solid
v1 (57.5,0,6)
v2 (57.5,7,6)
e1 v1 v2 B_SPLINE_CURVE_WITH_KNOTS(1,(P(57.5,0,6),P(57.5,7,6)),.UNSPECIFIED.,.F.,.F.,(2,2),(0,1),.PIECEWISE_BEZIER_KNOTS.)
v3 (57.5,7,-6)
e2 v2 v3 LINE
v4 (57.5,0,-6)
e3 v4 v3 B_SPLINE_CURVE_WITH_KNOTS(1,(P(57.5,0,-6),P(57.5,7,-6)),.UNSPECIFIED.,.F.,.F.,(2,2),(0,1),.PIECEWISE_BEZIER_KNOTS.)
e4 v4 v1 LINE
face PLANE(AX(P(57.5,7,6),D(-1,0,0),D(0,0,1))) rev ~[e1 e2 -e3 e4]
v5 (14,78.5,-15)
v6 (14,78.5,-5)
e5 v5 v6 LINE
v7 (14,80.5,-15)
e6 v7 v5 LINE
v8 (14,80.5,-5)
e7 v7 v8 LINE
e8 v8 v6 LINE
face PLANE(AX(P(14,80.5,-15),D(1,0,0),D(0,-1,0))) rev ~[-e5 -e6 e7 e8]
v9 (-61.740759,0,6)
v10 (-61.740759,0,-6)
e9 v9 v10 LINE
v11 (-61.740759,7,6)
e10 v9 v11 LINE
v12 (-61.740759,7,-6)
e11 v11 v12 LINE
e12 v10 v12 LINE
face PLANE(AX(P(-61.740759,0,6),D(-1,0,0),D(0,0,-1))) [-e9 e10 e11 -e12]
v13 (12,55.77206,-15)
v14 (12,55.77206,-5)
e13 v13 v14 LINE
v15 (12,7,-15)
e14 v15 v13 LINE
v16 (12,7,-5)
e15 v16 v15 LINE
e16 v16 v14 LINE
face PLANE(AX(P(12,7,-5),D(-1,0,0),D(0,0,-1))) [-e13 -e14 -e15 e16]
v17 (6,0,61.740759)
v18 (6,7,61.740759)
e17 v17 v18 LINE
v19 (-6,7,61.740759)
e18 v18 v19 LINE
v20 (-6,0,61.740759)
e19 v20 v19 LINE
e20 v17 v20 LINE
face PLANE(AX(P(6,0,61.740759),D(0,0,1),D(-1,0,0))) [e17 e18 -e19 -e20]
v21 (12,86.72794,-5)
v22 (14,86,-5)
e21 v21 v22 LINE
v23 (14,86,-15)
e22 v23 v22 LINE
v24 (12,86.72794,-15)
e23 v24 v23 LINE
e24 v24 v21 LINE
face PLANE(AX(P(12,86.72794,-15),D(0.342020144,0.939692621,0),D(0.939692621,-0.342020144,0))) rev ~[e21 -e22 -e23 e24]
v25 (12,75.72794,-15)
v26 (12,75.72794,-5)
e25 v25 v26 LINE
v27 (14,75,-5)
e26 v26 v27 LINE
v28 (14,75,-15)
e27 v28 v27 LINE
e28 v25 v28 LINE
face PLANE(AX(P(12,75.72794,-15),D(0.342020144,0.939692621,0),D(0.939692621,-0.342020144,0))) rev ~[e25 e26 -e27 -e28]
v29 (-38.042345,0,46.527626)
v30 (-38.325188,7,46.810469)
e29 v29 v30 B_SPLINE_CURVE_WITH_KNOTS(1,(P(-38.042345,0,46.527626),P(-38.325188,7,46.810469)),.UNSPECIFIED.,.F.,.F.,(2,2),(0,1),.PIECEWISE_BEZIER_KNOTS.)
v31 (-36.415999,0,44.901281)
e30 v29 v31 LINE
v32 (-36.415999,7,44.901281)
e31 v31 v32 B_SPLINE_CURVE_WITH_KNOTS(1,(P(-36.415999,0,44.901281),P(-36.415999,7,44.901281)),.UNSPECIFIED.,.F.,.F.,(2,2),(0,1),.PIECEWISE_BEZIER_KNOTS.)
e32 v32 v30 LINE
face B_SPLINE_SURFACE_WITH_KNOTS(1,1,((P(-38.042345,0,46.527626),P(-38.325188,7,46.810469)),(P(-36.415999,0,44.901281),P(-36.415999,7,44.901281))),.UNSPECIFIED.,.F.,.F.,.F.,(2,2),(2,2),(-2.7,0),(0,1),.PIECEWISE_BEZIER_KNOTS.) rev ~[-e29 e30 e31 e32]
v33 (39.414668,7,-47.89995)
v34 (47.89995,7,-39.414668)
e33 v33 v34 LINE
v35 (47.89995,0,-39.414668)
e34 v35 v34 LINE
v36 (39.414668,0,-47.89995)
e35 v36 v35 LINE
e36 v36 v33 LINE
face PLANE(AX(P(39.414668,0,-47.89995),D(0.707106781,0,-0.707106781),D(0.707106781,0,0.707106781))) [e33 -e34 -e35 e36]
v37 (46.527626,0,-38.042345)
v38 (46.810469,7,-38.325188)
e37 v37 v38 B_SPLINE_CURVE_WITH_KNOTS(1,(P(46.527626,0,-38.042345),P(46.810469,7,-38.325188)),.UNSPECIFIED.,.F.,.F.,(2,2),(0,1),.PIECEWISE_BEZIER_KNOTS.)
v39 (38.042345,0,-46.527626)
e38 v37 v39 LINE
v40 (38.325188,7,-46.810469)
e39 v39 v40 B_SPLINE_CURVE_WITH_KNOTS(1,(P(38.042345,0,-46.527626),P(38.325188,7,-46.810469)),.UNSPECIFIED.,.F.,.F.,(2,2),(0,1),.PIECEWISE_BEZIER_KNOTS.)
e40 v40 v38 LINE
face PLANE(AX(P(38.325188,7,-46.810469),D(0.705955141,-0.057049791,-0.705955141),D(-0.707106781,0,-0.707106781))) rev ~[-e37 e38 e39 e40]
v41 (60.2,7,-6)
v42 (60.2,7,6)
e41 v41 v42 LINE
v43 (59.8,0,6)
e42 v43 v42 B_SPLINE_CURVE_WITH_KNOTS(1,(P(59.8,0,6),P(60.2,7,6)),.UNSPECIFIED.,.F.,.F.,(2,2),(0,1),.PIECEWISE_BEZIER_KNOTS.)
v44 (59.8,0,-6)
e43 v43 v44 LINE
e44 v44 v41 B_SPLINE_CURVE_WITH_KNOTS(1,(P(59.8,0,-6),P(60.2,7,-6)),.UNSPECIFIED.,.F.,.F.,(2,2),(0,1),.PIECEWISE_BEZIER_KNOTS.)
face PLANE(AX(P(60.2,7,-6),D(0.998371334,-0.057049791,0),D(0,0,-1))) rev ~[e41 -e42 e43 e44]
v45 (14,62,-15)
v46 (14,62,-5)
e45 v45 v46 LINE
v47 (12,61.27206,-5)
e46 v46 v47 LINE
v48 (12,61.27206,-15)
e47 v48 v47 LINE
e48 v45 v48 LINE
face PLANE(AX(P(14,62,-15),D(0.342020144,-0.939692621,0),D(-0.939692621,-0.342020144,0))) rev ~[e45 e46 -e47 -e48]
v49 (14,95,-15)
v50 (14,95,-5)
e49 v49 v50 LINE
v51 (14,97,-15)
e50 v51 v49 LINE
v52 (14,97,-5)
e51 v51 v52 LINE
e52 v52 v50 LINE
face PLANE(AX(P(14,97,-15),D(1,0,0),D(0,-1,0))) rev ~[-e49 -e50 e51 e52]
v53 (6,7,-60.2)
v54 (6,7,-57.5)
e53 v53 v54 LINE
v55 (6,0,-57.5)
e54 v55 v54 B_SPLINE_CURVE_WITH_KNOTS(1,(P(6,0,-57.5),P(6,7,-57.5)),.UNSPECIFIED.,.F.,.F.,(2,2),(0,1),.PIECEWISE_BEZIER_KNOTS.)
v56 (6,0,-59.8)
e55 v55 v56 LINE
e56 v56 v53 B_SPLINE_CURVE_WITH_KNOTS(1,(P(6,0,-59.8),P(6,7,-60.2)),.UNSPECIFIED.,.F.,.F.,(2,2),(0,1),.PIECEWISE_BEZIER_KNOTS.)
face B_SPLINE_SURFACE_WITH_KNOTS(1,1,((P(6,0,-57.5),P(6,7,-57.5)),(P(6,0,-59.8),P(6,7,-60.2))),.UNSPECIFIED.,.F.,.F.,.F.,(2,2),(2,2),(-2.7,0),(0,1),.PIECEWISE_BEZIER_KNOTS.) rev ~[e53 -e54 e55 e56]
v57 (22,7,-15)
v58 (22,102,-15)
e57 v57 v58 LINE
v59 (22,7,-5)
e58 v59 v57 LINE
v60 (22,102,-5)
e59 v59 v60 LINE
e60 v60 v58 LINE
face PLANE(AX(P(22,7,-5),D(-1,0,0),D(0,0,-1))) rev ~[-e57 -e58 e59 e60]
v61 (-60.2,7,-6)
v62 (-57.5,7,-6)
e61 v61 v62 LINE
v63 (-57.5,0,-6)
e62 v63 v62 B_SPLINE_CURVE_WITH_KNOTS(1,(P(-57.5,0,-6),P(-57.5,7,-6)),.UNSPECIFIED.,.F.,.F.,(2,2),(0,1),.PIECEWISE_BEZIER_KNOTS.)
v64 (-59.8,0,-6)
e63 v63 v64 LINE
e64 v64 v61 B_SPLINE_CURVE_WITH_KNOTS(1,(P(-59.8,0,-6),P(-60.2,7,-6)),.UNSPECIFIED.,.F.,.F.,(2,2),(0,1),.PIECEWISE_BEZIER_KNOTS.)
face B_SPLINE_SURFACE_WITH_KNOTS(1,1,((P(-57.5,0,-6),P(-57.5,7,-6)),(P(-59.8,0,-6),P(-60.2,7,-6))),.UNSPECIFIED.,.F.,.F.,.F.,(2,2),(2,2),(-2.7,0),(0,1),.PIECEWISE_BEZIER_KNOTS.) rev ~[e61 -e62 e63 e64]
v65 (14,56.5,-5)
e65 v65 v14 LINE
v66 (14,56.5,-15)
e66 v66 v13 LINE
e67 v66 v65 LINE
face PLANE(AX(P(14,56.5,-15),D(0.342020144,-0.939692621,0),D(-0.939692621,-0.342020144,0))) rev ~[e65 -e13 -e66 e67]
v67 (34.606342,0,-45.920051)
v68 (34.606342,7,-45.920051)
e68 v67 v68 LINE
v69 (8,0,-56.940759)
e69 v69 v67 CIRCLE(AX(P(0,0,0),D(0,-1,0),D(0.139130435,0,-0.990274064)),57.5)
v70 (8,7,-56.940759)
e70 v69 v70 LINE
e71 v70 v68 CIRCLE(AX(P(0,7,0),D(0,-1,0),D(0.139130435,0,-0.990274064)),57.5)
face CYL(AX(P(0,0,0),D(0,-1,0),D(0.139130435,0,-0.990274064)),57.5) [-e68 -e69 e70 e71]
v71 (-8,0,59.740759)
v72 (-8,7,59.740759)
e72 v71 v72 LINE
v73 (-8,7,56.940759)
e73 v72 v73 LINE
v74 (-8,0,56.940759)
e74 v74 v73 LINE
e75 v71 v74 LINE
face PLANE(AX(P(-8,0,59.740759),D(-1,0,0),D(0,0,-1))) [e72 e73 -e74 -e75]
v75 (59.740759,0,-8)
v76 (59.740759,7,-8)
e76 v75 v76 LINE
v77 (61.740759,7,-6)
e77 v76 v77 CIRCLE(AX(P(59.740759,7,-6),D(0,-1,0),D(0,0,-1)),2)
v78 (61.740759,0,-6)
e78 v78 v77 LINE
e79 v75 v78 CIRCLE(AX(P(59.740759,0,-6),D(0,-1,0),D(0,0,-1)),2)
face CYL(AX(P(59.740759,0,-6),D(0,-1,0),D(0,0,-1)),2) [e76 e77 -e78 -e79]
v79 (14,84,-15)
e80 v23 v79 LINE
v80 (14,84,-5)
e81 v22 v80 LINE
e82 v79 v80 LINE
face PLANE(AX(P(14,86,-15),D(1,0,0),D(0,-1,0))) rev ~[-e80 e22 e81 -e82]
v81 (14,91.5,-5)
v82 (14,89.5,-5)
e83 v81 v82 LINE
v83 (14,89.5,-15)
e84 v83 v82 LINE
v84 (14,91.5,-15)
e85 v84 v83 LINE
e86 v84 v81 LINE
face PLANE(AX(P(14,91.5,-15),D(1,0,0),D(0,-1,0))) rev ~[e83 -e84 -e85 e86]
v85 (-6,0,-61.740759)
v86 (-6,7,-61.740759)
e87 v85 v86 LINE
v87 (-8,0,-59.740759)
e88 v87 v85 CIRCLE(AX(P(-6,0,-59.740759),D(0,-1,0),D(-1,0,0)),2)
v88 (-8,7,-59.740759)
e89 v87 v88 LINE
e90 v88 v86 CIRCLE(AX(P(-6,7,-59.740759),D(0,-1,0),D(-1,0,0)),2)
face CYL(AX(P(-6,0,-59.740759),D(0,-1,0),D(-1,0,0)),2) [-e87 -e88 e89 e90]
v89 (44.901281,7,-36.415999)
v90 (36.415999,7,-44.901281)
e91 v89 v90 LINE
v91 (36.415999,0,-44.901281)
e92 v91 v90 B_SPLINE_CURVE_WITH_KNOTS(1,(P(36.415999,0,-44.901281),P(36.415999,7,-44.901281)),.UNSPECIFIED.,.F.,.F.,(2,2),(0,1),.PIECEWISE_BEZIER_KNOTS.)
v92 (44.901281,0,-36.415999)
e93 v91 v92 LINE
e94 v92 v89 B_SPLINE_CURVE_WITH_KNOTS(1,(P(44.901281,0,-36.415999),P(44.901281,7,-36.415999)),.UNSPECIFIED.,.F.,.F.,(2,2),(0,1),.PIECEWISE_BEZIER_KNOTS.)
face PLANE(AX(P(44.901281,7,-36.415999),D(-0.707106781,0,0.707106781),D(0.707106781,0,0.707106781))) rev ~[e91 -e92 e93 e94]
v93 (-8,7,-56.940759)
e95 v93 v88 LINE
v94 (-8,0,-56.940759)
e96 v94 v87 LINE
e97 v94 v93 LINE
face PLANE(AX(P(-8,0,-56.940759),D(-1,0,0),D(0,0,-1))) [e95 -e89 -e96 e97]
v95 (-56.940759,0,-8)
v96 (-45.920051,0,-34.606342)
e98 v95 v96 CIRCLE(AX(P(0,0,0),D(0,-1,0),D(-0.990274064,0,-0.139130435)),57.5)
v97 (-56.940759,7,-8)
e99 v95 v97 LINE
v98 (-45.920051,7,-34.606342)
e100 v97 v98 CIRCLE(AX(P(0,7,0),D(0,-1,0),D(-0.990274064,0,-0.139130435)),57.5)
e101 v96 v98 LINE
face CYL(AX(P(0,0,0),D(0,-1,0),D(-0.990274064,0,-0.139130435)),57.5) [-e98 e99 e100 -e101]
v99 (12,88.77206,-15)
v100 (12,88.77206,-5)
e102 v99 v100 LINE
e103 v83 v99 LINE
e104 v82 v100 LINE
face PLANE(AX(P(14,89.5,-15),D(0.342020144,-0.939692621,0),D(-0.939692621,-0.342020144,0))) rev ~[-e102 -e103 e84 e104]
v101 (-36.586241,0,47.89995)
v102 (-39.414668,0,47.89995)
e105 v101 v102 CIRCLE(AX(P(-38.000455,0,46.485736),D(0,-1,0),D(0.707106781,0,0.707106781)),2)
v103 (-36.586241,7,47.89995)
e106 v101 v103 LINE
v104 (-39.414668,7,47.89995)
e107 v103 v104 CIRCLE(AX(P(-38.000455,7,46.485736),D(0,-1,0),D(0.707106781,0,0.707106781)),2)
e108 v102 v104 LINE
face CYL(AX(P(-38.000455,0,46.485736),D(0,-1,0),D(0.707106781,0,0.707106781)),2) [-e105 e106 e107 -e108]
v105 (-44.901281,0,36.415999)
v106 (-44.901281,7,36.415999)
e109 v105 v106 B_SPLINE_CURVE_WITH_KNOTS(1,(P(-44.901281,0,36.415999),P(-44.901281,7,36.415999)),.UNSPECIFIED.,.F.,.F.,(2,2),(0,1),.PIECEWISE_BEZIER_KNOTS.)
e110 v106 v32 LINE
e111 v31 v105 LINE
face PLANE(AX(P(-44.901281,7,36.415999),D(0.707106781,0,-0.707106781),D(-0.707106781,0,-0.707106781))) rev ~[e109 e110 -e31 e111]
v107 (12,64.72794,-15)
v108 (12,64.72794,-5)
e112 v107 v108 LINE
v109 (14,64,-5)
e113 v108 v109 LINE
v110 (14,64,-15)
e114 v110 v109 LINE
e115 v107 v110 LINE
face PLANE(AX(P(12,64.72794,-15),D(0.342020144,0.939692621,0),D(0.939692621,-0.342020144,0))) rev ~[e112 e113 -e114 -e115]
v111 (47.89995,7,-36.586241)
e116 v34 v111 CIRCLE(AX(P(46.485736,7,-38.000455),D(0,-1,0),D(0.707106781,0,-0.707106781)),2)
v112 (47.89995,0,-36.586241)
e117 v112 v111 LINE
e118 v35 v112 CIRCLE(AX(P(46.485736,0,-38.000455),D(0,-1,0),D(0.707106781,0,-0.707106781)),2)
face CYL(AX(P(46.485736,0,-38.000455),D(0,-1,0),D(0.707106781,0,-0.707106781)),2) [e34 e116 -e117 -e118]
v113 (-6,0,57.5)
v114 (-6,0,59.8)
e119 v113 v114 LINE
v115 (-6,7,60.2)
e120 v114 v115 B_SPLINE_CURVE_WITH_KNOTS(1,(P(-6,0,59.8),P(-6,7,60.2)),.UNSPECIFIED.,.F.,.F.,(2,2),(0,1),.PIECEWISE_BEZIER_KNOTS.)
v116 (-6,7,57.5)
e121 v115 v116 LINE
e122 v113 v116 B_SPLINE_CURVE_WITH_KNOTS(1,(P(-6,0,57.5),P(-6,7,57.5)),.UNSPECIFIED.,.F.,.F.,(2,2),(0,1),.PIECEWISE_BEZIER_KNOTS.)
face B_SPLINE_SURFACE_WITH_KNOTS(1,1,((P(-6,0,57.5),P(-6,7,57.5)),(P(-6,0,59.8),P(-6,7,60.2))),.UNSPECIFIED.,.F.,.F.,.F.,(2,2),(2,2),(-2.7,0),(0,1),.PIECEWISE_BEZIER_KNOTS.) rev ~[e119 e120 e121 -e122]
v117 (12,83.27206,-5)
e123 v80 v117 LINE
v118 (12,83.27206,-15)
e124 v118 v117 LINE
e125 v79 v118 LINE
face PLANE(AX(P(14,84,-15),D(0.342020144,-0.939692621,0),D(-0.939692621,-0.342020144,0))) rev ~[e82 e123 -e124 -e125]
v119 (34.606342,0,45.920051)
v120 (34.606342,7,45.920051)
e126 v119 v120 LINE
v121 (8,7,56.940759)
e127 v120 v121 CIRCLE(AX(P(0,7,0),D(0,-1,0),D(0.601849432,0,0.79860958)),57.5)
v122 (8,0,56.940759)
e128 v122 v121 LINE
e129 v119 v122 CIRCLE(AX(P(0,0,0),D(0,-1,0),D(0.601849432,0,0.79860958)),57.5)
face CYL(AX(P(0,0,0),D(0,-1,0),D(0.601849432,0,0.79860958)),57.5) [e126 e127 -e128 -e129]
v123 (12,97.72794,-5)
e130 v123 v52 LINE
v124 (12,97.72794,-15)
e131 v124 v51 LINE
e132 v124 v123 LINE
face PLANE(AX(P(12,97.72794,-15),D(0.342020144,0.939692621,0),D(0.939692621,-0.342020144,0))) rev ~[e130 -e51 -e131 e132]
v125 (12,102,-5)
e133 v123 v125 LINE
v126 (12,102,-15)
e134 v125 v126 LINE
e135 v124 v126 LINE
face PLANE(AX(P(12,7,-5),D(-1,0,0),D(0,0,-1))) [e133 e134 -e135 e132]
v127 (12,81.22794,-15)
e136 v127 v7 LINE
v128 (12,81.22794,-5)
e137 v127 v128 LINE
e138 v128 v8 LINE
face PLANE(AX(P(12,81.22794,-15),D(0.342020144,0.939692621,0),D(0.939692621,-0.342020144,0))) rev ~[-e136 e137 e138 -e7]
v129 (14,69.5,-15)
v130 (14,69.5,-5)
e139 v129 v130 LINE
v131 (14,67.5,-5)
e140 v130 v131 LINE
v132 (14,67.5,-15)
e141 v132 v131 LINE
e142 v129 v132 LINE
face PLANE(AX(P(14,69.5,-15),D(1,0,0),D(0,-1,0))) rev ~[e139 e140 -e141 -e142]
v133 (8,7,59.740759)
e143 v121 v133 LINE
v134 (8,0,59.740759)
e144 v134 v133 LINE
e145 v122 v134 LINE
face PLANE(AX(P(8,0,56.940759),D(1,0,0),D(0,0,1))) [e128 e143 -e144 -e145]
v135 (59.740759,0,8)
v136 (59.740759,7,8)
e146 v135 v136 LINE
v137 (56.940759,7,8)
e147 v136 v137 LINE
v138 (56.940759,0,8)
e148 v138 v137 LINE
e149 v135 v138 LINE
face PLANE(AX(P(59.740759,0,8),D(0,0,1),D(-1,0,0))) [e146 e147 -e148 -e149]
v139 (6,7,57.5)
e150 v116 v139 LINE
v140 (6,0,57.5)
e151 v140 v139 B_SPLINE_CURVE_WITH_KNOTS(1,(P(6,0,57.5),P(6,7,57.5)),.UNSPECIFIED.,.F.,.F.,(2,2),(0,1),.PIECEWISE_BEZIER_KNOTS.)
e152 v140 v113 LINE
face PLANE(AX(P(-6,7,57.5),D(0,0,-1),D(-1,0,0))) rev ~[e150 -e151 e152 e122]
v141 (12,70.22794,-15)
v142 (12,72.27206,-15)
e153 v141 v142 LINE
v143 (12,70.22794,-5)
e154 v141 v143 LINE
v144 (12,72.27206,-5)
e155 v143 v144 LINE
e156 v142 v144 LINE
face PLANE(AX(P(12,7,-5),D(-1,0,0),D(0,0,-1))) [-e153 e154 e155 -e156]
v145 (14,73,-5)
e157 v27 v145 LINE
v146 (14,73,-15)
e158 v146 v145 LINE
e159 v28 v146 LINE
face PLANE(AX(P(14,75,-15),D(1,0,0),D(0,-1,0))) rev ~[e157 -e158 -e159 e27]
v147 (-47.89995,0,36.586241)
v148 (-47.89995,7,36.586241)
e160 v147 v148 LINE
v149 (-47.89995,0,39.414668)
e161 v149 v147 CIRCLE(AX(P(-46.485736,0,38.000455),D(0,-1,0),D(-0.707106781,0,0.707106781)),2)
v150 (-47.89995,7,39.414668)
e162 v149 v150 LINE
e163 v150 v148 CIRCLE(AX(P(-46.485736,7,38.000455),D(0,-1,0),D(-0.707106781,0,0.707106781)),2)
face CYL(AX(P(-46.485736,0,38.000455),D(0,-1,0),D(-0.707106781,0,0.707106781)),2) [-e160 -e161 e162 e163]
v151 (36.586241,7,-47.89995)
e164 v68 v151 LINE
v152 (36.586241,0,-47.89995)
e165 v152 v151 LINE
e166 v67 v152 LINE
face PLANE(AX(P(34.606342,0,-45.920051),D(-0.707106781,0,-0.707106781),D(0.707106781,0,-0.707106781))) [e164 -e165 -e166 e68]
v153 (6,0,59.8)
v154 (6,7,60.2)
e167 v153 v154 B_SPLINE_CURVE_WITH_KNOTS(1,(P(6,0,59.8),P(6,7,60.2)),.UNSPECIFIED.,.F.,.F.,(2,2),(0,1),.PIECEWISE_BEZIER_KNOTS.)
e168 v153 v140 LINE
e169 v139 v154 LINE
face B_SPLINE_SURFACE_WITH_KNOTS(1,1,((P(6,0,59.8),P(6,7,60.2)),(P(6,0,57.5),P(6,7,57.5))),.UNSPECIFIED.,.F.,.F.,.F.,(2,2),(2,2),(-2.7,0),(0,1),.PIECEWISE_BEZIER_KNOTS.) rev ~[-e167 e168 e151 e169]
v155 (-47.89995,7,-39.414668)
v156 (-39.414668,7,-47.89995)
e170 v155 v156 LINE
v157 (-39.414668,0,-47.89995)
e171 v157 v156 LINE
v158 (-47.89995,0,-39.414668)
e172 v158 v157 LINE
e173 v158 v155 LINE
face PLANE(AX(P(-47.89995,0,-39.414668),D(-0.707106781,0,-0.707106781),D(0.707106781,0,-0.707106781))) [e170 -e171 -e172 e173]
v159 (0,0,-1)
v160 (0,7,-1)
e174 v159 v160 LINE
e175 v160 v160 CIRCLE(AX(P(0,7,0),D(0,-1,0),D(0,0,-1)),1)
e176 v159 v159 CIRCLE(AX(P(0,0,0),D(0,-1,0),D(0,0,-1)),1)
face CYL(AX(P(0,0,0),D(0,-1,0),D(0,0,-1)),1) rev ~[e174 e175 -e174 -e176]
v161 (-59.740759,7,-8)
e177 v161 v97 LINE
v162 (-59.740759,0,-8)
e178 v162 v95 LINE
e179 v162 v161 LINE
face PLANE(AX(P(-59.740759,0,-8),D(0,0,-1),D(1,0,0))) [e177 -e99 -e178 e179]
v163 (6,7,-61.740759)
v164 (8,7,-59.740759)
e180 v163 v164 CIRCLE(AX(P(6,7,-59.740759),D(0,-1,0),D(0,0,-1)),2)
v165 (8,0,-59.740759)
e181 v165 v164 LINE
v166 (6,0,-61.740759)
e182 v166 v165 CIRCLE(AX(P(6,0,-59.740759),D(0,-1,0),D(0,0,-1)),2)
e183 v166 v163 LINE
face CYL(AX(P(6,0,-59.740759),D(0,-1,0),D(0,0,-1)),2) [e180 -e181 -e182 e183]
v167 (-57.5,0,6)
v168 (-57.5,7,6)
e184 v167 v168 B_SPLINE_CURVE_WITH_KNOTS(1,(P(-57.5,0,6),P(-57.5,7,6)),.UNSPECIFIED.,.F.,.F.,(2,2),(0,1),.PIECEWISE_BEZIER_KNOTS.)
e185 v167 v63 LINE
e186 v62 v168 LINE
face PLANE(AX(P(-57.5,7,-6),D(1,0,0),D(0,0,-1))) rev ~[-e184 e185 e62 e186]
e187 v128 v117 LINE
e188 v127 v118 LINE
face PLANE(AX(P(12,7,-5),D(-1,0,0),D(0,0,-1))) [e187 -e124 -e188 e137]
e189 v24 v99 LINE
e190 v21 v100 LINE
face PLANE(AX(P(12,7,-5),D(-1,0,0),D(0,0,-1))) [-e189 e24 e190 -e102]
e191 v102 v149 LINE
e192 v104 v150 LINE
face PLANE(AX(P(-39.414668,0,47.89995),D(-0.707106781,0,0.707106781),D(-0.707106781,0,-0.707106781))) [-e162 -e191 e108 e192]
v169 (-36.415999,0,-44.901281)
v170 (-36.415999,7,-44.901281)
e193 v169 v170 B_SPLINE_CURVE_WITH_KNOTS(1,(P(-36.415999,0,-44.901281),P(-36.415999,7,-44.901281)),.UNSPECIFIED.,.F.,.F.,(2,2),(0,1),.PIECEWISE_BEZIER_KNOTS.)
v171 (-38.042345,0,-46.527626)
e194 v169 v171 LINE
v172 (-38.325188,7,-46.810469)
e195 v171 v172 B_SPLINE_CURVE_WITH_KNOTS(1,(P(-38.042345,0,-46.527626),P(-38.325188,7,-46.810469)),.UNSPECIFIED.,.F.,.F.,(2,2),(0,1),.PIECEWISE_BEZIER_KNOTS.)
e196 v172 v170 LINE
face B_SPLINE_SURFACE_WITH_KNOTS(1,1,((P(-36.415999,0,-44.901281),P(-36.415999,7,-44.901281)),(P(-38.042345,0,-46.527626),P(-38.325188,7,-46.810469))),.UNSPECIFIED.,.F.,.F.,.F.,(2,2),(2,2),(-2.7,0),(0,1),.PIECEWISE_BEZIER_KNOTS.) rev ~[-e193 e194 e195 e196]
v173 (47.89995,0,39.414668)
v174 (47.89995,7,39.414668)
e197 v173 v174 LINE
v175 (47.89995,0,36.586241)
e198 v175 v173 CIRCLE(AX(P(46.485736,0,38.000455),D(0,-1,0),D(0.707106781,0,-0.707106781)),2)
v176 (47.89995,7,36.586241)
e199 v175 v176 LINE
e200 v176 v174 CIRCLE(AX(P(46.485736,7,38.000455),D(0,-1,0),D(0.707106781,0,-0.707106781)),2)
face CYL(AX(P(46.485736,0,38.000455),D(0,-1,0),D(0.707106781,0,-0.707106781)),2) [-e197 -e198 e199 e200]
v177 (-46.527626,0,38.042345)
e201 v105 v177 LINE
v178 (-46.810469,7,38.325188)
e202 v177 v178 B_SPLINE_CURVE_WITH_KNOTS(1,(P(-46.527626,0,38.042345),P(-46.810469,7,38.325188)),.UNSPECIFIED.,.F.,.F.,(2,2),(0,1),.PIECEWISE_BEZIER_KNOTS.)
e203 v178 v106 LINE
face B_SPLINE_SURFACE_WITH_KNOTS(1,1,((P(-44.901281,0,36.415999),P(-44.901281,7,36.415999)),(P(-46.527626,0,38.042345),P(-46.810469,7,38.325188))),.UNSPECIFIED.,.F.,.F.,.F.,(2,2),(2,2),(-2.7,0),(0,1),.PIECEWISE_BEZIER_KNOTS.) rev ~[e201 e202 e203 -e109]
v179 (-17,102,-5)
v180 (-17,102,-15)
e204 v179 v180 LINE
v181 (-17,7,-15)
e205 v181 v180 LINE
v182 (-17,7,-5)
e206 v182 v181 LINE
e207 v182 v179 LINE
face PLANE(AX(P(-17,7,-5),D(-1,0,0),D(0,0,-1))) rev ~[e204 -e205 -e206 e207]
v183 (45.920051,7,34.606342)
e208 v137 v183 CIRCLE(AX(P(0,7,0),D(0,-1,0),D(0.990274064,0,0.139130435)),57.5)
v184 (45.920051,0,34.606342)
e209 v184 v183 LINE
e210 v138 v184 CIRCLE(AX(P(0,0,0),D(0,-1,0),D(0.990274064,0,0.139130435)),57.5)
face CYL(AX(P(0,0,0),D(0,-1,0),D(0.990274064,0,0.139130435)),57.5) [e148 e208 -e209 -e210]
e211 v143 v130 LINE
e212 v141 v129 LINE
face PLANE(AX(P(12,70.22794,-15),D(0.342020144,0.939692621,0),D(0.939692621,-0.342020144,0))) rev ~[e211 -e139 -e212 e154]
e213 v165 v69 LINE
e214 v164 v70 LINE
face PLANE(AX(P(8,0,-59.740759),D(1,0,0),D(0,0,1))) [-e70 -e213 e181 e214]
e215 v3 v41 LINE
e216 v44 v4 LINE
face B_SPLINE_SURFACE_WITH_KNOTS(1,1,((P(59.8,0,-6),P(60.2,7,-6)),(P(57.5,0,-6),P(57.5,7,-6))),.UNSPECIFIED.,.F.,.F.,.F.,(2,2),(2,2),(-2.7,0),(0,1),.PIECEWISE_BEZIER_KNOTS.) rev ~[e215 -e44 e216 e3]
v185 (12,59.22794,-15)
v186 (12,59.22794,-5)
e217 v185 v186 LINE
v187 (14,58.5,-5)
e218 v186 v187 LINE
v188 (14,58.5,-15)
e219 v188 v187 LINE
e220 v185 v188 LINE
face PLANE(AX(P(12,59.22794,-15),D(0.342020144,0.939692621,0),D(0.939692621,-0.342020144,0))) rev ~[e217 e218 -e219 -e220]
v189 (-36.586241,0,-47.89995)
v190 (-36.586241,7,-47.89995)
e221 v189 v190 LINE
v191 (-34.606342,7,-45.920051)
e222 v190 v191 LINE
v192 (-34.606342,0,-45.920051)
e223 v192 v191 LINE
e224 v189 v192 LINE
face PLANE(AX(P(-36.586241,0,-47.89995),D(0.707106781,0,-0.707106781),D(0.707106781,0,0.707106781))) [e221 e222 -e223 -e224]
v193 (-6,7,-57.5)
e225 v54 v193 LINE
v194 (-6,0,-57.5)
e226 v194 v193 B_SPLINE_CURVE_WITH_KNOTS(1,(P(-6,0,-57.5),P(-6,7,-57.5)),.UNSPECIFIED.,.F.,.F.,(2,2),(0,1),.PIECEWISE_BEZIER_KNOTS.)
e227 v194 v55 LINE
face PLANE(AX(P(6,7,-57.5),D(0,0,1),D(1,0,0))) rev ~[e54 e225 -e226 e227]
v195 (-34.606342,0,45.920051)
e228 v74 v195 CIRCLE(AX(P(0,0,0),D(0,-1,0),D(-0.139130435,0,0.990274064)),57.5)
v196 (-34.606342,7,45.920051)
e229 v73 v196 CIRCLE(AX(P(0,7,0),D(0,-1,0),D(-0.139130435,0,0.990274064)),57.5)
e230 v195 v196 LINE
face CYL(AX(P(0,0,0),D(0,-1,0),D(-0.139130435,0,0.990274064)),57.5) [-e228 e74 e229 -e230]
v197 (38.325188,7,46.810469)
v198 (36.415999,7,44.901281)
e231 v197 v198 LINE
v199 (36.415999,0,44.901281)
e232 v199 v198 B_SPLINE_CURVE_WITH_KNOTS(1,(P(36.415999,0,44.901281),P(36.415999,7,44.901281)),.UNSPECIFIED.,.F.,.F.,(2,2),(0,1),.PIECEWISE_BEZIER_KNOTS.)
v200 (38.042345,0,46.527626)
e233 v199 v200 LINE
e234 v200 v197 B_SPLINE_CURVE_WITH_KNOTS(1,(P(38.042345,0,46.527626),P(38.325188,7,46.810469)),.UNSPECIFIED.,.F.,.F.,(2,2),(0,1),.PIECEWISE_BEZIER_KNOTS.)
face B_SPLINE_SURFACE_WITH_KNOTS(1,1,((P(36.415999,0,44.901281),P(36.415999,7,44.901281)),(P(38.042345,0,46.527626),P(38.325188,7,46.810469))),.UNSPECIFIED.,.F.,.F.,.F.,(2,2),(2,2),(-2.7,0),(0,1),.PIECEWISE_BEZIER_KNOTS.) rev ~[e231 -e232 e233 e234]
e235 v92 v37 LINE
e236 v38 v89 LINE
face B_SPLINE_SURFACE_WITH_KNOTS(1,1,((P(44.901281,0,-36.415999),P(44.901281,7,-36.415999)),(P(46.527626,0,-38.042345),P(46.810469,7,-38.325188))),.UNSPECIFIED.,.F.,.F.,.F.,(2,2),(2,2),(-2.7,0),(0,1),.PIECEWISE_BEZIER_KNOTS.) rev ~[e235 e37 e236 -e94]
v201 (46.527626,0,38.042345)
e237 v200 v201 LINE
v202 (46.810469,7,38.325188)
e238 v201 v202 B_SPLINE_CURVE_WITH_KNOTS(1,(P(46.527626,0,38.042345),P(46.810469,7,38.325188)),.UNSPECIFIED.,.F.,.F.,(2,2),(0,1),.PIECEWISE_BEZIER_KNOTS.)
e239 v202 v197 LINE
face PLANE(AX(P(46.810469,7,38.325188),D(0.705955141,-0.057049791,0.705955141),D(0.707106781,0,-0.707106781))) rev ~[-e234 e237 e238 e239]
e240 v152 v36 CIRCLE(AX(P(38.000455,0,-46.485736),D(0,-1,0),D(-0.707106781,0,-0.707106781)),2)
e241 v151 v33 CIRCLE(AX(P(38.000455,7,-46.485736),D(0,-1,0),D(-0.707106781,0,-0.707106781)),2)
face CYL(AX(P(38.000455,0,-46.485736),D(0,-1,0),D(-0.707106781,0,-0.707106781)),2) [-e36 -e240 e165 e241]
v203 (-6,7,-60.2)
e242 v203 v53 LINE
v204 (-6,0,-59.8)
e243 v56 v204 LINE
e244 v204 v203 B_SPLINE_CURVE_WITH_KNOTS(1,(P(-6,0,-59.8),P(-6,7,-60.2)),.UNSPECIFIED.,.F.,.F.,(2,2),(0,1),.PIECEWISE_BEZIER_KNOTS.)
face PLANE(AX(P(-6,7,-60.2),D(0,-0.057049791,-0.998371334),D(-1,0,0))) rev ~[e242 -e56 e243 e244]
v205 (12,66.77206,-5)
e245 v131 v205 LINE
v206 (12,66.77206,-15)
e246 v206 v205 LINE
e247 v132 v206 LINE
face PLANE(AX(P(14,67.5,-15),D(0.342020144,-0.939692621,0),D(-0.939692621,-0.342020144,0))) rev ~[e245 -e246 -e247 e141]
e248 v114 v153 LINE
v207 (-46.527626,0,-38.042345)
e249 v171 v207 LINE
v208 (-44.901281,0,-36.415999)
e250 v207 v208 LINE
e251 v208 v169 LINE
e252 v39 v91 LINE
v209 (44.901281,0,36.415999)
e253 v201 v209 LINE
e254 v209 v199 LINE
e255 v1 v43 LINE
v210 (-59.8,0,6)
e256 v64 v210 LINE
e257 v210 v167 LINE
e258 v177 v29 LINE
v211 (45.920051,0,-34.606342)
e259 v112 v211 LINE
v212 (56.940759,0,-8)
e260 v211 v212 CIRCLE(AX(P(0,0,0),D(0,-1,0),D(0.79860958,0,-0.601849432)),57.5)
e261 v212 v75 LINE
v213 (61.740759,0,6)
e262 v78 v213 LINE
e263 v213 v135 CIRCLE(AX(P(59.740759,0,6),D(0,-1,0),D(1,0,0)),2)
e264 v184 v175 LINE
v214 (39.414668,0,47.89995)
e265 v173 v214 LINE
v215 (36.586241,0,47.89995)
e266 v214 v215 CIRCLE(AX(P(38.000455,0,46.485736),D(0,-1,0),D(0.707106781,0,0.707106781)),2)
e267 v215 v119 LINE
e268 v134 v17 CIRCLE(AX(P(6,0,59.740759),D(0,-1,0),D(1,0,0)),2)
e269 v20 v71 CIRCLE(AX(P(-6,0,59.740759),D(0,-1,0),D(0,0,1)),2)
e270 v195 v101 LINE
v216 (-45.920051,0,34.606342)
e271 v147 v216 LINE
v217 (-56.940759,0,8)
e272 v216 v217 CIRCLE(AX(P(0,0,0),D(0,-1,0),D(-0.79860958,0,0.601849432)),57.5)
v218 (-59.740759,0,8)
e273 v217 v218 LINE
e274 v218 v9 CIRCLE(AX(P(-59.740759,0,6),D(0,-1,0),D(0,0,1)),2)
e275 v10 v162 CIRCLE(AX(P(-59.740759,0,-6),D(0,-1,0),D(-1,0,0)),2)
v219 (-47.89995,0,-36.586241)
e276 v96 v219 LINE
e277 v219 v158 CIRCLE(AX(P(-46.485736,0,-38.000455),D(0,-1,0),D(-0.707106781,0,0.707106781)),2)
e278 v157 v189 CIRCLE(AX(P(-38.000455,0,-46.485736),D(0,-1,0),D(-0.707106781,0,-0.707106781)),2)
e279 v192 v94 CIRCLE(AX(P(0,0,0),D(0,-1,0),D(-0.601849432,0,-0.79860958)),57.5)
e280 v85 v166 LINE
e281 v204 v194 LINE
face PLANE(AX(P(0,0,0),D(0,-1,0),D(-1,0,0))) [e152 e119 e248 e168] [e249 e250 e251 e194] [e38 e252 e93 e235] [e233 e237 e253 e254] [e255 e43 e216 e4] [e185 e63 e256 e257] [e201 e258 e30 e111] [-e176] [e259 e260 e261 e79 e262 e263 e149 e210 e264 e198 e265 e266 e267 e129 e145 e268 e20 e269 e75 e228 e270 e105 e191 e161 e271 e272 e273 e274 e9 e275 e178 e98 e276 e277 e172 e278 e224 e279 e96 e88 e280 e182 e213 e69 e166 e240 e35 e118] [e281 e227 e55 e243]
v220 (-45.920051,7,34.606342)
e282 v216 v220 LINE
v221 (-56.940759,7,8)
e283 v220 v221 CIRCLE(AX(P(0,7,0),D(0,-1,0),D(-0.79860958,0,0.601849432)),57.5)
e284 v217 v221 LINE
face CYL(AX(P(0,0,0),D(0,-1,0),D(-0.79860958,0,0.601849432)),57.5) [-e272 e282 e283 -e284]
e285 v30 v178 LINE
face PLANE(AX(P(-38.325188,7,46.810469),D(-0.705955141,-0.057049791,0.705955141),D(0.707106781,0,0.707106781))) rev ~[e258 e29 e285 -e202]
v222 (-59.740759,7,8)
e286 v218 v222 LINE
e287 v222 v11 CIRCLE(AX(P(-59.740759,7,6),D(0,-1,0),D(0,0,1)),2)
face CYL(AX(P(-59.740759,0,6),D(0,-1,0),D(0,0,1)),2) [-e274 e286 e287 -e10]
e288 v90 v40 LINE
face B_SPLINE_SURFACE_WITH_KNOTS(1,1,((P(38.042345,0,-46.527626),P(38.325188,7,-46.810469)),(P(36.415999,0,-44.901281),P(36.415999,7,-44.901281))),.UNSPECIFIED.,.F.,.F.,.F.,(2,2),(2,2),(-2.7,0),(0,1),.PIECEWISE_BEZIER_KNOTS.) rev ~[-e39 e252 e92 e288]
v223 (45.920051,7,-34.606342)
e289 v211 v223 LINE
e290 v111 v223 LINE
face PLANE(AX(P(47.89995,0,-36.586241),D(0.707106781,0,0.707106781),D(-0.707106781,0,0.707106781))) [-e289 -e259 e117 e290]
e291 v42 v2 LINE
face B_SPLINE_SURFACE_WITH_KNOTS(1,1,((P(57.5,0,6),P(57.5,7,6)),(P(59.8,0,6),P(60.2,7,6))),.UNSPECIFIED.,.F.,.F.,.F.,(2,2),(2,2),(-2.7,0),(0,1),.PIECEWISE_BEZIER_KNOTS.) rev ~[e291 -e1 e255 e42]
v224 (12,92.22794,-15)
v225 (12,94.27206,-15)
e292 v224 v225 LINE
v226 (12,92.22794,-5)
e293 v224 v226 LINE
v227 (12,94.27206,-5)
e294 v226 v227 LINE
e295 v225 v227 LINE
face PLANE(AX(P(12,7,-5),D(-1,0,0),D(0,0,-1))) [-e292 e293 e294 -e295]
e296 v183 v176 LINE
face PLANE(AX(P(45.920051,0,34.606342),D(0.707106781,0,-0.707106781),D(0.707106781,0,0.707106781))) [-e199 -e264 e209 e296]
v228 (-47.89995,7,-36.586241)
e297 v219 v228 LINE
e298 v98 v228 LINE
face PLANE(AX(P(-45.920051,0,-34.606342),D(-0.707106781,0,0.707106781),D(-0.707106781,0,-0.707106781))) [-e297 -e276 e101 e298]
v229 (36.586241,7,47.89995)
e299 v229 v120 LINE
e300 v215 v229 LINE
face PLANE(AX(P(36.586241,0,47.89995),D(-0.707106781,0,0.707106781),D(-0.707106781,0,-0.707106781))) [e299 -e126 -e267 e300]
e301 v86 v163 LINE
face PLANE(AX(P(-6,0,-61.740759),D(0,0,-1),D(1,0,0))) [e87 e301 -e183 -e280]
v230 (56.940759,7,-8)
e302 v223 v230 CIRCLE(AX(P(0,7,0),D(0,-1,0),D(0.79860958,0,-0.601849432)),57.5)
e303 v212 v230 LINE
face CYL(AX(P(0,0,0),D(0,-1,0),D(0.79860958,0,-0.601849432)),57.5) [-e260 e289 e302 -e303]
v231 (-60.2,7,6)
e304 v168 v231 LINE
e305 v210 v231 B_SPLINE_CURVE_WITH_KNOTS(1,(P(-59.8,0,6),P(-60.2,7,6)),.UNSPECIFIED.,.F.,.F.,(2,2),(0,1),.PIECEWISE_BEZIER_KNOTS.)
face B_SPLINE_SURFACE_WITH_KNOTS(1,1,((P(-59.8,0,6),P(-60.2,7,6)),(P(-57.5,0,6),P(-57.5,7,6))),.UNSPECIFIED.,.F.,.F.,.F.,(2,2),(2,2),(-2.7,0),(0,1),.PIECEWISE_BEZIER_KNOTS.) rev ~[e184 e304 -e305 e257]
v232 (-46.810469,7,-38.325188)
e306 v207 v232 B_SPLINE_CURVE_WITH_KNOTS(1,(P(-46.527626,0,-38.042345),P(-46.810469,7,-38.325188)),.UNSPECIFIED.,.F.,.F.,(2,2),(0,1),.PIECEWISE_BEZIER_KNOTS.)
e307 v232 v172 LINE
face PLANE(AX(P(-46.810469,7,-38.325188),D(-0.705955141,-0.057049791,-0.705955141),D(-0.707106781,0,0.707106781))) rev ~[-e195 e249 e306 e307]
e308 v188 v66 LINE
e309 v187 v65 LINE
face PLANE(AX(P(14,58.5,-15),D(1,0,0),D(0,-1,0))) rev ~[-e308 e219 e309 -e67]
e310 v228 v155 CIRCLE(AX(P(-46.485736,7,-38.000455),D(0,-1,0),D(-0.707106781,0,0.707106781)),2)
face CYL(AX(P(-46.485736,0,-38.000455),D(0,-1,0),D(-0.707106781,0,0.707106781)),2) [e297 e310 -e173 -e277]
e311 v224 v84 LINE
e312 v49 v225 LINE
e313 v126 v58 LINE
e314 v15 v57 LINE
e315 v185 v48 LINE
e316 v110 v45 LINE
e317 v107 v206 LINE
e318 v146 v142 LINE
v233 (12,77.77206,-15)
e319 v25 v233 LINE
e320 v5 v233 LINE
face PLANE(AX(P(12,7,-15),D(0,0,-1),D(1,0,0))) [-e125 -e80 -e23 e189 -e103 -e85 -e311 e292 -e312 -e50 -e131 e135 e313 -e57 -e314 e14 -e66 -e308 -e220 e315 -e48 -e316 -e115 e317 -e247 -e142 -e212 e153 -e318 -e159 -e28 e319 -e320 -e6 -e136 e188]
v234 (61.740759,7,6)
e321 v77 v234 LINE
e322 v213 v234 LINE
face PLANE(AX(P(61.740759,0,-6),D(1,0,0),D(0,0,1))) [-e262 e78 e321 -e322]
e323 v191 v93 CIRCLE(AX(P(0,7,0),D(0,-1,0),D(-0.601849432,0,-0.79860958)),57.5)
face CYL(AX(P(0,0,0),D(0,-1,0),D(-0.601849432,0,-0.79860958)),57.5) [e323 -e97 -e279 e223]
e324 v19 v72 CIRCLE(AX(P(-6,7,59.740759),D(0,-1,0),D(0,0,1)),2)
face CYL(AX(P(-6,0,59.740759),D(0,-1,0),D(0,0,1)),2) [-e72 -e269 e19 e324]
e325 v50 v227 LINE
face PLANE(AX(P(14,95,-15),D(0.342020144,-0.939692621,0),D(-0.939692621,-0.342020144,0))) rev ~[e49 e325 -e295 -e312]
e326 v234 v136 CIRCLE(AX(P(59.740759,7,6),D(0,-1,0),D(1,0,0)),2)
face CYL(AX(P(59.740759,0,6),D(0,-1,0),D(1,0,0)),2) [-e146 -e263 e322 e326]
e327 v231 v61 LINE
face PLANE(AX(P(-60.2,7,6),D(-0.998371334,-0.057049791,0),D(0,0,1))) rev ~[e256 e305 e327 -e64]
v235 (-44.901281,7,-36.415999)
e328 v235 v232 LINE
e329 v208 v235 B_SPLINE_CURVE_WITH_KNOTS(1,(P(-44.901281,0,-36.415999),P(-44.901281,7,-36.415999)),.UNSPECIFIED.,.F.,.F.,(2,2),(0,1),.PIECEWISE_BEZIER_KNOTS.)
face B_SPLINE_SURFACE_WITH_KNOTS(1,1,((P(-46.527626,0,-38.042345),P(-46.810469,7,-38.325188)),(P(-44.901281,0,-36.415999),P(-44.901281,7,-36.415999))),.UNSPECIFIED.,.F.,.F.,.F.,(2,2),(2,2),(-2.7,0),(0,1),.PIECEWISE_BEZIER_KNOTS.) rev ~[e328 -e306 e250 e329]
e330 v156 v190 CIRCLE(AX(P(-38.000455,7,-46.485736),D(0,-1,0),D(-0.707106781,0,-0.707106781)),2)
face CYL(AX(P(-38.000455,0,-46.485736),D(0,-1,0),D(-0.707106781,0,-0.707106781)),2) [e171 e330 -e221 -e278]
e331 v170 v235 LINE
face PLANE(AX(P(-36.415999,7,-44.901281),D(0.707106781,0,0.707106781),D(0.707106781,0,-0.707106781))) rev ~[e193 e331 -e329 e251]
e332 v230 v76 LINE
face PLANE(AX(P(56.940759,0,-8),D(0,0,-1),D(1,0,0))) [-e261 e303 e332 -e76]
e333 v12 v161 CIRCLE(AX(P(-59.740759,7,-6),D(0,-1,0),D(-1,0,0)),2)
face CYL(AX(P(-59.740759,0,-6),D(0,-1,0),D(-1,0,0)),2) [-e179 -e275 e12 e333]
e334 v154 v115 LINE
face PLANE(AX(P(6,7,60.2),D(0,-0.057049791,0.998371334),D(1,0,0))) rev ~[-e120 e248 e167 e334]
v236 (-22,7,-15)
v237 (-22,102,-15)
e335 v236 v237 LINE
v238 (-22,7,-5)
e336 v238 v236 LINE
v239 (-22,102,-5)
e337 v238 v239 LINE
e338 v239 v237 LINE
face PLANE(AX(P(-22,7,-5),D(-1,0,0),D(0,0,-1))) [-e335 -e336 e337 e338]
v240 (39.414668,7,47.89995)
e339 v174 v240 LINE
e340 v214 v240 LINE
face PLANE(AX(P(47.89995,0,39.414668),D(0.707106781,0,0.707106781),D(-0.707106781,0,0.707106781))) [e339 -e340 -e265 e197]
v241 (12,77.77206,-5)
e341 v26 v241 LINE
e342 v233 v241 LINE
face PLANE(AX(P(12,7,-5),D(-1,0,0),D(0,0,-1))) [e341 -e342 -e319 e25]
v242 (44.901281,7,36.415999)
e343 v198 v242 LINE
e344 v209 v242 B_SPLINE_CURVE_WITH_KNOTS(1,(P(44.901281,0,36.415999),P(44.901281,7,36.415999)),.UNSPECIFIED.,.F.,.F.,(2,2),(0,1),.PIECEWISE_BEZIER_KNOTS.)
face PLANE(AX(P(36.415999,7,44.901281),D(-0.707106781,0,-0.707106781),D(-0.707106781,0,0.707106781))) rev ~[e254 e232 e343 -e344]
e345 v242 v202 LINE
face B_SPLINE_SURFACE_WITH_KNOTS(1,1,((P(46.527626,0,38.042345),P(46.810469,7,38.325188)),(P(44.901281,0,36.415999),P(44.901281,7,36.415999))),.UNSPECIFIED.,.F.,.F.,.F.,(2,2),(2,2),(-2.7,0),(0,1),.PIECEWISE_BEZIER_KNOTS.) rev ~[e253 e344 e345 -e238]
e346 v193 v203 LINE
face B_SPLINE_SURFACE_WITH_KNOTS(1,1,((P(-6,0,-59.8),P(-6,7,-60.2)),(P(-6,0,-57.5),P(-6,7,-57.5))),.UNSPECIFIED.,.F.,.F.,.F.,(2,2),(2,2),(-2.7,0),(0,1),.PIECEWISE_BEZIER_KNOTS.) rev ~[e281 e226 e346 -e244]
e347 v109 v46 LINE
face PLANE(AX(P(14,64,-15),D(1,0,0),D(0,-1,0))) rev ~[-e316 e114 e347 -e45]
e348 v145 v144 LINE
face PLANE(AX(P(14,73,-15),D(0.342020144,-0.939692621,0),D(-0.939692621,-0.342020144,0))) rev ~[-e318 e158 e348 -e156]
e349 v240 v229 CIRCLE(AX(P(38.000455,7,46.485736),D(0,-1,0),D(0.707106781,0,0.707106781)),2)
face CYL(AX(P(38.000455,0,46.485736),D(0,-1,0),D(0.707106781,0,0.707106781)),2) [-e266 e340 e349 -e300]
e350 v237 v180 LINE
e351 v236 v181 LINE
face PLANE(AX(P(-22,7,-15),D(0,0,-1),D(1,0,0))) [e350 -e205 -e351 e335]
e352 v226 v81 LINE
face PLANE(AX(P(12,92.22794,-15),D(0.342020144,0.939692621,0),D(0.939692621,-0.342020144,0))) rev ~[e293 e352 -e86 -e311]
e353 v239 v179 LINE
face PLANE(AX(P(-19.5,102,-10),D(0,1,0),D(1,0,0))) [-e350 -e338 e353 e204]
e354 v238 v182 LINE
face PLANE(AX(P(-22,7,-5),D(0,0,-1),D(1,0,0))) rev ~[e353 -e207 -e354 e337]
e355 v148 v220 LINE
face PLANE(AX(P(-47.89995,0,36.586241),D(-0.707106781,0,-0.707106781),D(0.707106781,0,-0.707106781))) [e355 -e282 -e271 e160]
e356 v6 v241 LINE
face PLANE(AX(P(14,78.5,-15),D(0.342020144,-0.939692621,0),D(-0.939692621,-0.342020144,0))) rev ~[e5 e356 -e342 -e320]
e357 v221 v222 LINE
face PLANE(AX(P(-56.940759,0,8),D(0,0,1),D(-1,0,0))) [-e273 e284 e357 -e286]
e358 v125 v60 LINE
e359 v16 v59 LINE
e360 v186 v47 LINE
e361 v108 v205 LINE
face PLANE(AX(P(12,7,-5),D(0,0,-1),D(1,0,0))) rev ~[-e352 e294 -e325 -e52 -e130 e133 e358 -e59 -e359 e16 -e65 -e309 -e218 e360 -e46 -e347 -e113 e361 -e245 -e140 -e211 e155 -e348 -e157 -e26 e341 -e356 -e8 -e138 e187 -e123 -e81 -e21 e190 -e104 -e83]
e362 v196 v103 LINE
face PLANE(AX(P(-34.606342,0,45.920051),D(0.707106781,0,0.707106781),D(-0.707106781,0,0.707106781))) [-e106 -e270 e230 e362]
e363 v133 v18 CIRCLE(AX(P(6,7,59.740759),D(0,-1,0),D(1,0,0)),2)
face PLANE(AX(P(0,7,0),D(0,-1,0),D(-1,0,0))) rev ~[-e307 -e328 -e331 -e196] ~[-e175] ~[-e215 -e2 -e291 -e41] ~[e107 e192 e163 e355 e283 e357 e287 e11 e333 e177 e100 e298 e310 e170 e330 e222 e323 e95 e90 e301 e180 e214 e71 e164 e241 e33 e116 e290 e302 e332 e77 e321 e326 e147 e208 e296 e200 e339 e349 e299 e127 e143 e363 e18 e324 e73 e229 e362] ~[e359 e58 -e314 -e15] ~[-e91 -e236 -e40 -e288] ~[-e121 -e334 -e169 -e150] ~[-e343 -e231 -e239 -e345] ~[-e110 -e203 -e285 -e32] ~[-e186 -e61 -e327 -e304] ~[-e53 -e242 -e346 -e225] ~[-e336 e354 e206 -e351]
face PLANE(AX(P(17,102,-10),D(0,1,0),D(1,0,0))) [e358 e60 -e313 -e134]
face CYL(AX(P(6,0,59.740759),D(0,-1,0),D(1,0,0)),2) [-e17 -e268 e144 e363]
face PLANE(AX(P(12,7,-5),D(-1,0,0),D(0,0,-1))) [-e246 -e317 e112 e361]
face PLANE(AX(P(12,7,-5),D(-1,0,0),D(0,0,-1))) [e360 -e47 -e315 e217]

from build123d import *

# Parameters (mm, degrees)
BOSS_EXTRUDE1_DEPTH = 7
SKETCH2_W           = 10
SKETCH2_H           = 10
SKETCH2_W_2         = 5
BOSS_EXTRUDE2_DEPTH = 95
SKETCH15_R          = 1
CUT_EXTRUDE3_DEPTH  = 7
CIRPATTERN1_COUNT   = 8
CUT_EXTRUDE4_DEPTH  = 10
LPATTERN1_COUNT     = 8
LPATTERN1_PITCH     = 5.5


with BuildPart() as part:
    # Sketch1 → Boss-Extrude1 (new body)
    with BuildSketch(Plane(origin=(0, 0, 0), x_dir=(1, 0, 0), z_dir=(0, 1, 0))):
        with BuildLine():
            Line((-8, 56.940758688), (-8, 59.740758688))
            ThreePointArc((-8, 59.740758688), (-7.414213562, 61.154972251), (-6, 61.740758688))
            Line((-6, 61.740758688), (6, 61.740758688))
            ThreePointArc((6, 61.740758688), (7.414213562, 61.154972251), (8, 59.740758688))
            Line((8, 59.740758688), (8, 56.940758688))
            ThreePointArc((8, 56.940758688), (22.004297361, 53.123073119), (34.606342345, 45.920050844))
            Line((34.606342345, 45.920050844), (36.586241332, 47.899949831))
            ThreePointArc((36.586241332, 47.899949831), (38.000454895, 48.485736269), (39.414668457, 47.899949831))
            Line((39.414668457, 47.899949831), (47.899949831, 39.414668457))
            ThreePointArc((47.899949831, 39.414668457), (48.485736269, 38.000454895), (47.899949831, 36.586241332))
            Line((47.899949831, 36.586241332), (45.920050844, 34.606342345))
            ThreePointArc((45.920050844, 34.606342345), (53.123073119, 22.004297361), (56.940758688, 8))
            Line((56.940758688, 8), (59.740758688, 8))
            ThreePointArc((59.740758688, 8), (61.154972251, 7.414213562), (61.740758688, 6))
            Line((61.740758688, 6), (61.740758688, -6))
            ThreePointArc((61.740758688, -6), (61.154972251, -7.414213562), (59.740758688, -8))
            Line((59.740758688, -8), (56.940758688, -8))
            ThreePointArc((56.940758688, -8), (53.123073119, -22.004297361), (45.920050844, -34.606342345))
            Line((45.920050844, -34.606342345), (47.899949831, -36.586241332))
            ThreePointArc((47.899949831, -36.586241332), (48.485736269, -38.000454895), (47.899949831, -39.414668457))
            Line((47.899949831, -39.414668457), (39.414668457, -47.899949831))
            ThreePointArc((39.414668457, -47.899949831), (38.000454895, -48.485736269), (36.586241332, -47.899949831))
            Line((36.586241332, -47.899949831), (34.606342345, -45.920050844))
            ThreePointArc((34.606342345, -45.920050844), (22.004297361, -53.123073119), (8, -56.940758688))
            Line((8, -56.940758688), (8, -59.740758688))
            ThreePointArc((8, -59.740758688), (7.414213562, -61.154972251), (6, -61.740758688))
            Line((6, -61.740758688), (-6, -61.740758688))
            ThreePointArc((-6, -61.740758688), (-7.414213562, -61.154972251), (-8, -59.740758688))
            Line((-8, -59.740758688), (-8, -56.940758688))
            ThreePointArc((-8, -56.940758688), (-22.004297361, -53.123073119), (-34.606342345, -45.920050844))
            Line((-34.606342345, -45.920050844), (-36.586241332, -47.899949831))
            ThreePointArc((-36.586241332, -47.899949831), (-38.000454895, -48.485736269), (-39.414668457, -47.899949831))
            Line((-39.414668457, -47.899949831), (-47.899949831, -39.414668457))
            ThreePointArc((-47.899949831, -39.414668457), (-48.485736269, -38.000454895), (-47.899949831, -36.586241332))
            Line((-47.899949831, -36.586241332), (-45.920050844, -34.606342345))
            ThreePointArc((-45.920050844, -34.606342345), (-53.123073119, -22.004297361), (-56.940758688, -8))
            Line((-56.940758688, -8), (-59.740758688, -8))
            ThreePointArc((-59.740758688, -8), (-61.154972251, -7.414213562), (-61.740758688, -6))
            Line((-61.740758688, -6), (-61.740758688, 6))
            ThreePointArc((-61.740758688, 6), (-61.154972251, 7.414213562), (-59.740758688, 8))
            Line((-59.740758688, 8), (-56.940758688, 8))
            ThreePointArc((-56.940758688, 8), (-53.123073119, 22.004297361), (-45.920050844, 34.606342345))
            Line((-45.920050844, 34.606342345), (-47.899949831, 36.586241332))
            ThreePointArc((-47.899949831, 36.586241332), (-48.485736269, 38.000454895), (-47.899949831, 39.414668457))
            Line((-47.899949831, 39.414668457), (-39.414668457, 47.899949831))
            ThreePointArc((-39.414668457, 47.899949831), (-38.000454895, 48.485736269), (-36.586241332, 47.899949831))
            Line((-36.586241332, 47.899949831), (-34.606342345, 45.920050844))
            ThreePointArc((-34.606342345, 45.920050844), (-22.004297361, 53.123073119), (-8, 56.940758688))
        make_face()
    extrude(amount=BOSS_EXTRUDE1_DEPTH)

    # Sketch2 → Boss-Extrude2 (add)
    with BuildSketch(Plane(origin=(0, 7, 0), x_dir=(1, 0, 0), z_dir=(0, 1, 0))):
        with Locations((17, 10)):
            Rectangle(SKETCH2_W, SKETCH2_H)
        with Locations((-19.5, 10)):
            Rectangle(SKETCH2_W_2, SKETCH2_H)
    extrude(amount=BOSS_EXTRUDE2_DEPTH)

    # Sketch15 → Cut-Extrude3 (cut)
    with BuildSketch(Plane.XZ):
        with Locations(Location((0, 0, 0), (0, 0, 270))):
            Circle(SKETCH15_R)
    extrude(amount=-CUT_EXTRUDE3_DEPTH, mode=Mode.SUBTRACT)

    # Sketch16 → Cut-Loft2 section 0
    with BuildSketch(Plane.XZ):
        with BuildLine():
            Line((-6, 59.8), (6, 59.8))
            Line((6, 59.8), (6, 57.5))
            Line((6, 57.5), (-6, 57.5))
            Line((-6, 57.5), (-6, 59.8))
        make_face()
    # Sketch17 → Cut-Loft2 section 1
    with BuildSketch(Plane(origin=(0, 7, 0), x_dir=(1, 0, 0), z_dir=(0, 1, 0))):
        with BuildLine():
            Line((-6, -57.5), (6, -57.5))
            Line((6, -57.5), (6, -60.2))
            Line((6, -60.2), (-6, -60.2))
            Line((-6, -60.2), (-6, -57.5))
        make_face()
    cut_loft2 = loft(mode=Mode.SUBTRACT)

    # CirPattern1: Cut-Loft2 ×8 about axis
    cirpattern1_axis = Axis((0, 0, 0), (0, 1, 0))
    for i in range(1, CIRPATTERN1_COUNT):
        add(cut_loft2.rotate(cirpattern1_axis, i * 360 / CIRPATTERN1_COUNT), mode=Mode.SUBTRACT)

    # Sketch18 → Cut-Extrude4 (cut)
    with BuildSketch(Plane(origin=(0, 0, -15), x_dir=(-1, 0, 0), z_dir=(0, 0, -1))):
        Polygon((-12, 97.727940469), (-14, 97), (-14, 95), (-12, 94.272059531), align=None)
    cut_extrude4 = extrude(amount=-CUT_EXTRUDE4_DEPTH, mode=Mode.SUBTRACT)

    # LPattern1: Cut-Extrude4 ×8
    with Locations(*[(0, -i * LPATTERN1_PITCH, 0) for i in range(1, LPATTERN1_COUNT)]):
        add(cut_extrude4, mode=Mode.SUBTRACT)


solid = part.part
